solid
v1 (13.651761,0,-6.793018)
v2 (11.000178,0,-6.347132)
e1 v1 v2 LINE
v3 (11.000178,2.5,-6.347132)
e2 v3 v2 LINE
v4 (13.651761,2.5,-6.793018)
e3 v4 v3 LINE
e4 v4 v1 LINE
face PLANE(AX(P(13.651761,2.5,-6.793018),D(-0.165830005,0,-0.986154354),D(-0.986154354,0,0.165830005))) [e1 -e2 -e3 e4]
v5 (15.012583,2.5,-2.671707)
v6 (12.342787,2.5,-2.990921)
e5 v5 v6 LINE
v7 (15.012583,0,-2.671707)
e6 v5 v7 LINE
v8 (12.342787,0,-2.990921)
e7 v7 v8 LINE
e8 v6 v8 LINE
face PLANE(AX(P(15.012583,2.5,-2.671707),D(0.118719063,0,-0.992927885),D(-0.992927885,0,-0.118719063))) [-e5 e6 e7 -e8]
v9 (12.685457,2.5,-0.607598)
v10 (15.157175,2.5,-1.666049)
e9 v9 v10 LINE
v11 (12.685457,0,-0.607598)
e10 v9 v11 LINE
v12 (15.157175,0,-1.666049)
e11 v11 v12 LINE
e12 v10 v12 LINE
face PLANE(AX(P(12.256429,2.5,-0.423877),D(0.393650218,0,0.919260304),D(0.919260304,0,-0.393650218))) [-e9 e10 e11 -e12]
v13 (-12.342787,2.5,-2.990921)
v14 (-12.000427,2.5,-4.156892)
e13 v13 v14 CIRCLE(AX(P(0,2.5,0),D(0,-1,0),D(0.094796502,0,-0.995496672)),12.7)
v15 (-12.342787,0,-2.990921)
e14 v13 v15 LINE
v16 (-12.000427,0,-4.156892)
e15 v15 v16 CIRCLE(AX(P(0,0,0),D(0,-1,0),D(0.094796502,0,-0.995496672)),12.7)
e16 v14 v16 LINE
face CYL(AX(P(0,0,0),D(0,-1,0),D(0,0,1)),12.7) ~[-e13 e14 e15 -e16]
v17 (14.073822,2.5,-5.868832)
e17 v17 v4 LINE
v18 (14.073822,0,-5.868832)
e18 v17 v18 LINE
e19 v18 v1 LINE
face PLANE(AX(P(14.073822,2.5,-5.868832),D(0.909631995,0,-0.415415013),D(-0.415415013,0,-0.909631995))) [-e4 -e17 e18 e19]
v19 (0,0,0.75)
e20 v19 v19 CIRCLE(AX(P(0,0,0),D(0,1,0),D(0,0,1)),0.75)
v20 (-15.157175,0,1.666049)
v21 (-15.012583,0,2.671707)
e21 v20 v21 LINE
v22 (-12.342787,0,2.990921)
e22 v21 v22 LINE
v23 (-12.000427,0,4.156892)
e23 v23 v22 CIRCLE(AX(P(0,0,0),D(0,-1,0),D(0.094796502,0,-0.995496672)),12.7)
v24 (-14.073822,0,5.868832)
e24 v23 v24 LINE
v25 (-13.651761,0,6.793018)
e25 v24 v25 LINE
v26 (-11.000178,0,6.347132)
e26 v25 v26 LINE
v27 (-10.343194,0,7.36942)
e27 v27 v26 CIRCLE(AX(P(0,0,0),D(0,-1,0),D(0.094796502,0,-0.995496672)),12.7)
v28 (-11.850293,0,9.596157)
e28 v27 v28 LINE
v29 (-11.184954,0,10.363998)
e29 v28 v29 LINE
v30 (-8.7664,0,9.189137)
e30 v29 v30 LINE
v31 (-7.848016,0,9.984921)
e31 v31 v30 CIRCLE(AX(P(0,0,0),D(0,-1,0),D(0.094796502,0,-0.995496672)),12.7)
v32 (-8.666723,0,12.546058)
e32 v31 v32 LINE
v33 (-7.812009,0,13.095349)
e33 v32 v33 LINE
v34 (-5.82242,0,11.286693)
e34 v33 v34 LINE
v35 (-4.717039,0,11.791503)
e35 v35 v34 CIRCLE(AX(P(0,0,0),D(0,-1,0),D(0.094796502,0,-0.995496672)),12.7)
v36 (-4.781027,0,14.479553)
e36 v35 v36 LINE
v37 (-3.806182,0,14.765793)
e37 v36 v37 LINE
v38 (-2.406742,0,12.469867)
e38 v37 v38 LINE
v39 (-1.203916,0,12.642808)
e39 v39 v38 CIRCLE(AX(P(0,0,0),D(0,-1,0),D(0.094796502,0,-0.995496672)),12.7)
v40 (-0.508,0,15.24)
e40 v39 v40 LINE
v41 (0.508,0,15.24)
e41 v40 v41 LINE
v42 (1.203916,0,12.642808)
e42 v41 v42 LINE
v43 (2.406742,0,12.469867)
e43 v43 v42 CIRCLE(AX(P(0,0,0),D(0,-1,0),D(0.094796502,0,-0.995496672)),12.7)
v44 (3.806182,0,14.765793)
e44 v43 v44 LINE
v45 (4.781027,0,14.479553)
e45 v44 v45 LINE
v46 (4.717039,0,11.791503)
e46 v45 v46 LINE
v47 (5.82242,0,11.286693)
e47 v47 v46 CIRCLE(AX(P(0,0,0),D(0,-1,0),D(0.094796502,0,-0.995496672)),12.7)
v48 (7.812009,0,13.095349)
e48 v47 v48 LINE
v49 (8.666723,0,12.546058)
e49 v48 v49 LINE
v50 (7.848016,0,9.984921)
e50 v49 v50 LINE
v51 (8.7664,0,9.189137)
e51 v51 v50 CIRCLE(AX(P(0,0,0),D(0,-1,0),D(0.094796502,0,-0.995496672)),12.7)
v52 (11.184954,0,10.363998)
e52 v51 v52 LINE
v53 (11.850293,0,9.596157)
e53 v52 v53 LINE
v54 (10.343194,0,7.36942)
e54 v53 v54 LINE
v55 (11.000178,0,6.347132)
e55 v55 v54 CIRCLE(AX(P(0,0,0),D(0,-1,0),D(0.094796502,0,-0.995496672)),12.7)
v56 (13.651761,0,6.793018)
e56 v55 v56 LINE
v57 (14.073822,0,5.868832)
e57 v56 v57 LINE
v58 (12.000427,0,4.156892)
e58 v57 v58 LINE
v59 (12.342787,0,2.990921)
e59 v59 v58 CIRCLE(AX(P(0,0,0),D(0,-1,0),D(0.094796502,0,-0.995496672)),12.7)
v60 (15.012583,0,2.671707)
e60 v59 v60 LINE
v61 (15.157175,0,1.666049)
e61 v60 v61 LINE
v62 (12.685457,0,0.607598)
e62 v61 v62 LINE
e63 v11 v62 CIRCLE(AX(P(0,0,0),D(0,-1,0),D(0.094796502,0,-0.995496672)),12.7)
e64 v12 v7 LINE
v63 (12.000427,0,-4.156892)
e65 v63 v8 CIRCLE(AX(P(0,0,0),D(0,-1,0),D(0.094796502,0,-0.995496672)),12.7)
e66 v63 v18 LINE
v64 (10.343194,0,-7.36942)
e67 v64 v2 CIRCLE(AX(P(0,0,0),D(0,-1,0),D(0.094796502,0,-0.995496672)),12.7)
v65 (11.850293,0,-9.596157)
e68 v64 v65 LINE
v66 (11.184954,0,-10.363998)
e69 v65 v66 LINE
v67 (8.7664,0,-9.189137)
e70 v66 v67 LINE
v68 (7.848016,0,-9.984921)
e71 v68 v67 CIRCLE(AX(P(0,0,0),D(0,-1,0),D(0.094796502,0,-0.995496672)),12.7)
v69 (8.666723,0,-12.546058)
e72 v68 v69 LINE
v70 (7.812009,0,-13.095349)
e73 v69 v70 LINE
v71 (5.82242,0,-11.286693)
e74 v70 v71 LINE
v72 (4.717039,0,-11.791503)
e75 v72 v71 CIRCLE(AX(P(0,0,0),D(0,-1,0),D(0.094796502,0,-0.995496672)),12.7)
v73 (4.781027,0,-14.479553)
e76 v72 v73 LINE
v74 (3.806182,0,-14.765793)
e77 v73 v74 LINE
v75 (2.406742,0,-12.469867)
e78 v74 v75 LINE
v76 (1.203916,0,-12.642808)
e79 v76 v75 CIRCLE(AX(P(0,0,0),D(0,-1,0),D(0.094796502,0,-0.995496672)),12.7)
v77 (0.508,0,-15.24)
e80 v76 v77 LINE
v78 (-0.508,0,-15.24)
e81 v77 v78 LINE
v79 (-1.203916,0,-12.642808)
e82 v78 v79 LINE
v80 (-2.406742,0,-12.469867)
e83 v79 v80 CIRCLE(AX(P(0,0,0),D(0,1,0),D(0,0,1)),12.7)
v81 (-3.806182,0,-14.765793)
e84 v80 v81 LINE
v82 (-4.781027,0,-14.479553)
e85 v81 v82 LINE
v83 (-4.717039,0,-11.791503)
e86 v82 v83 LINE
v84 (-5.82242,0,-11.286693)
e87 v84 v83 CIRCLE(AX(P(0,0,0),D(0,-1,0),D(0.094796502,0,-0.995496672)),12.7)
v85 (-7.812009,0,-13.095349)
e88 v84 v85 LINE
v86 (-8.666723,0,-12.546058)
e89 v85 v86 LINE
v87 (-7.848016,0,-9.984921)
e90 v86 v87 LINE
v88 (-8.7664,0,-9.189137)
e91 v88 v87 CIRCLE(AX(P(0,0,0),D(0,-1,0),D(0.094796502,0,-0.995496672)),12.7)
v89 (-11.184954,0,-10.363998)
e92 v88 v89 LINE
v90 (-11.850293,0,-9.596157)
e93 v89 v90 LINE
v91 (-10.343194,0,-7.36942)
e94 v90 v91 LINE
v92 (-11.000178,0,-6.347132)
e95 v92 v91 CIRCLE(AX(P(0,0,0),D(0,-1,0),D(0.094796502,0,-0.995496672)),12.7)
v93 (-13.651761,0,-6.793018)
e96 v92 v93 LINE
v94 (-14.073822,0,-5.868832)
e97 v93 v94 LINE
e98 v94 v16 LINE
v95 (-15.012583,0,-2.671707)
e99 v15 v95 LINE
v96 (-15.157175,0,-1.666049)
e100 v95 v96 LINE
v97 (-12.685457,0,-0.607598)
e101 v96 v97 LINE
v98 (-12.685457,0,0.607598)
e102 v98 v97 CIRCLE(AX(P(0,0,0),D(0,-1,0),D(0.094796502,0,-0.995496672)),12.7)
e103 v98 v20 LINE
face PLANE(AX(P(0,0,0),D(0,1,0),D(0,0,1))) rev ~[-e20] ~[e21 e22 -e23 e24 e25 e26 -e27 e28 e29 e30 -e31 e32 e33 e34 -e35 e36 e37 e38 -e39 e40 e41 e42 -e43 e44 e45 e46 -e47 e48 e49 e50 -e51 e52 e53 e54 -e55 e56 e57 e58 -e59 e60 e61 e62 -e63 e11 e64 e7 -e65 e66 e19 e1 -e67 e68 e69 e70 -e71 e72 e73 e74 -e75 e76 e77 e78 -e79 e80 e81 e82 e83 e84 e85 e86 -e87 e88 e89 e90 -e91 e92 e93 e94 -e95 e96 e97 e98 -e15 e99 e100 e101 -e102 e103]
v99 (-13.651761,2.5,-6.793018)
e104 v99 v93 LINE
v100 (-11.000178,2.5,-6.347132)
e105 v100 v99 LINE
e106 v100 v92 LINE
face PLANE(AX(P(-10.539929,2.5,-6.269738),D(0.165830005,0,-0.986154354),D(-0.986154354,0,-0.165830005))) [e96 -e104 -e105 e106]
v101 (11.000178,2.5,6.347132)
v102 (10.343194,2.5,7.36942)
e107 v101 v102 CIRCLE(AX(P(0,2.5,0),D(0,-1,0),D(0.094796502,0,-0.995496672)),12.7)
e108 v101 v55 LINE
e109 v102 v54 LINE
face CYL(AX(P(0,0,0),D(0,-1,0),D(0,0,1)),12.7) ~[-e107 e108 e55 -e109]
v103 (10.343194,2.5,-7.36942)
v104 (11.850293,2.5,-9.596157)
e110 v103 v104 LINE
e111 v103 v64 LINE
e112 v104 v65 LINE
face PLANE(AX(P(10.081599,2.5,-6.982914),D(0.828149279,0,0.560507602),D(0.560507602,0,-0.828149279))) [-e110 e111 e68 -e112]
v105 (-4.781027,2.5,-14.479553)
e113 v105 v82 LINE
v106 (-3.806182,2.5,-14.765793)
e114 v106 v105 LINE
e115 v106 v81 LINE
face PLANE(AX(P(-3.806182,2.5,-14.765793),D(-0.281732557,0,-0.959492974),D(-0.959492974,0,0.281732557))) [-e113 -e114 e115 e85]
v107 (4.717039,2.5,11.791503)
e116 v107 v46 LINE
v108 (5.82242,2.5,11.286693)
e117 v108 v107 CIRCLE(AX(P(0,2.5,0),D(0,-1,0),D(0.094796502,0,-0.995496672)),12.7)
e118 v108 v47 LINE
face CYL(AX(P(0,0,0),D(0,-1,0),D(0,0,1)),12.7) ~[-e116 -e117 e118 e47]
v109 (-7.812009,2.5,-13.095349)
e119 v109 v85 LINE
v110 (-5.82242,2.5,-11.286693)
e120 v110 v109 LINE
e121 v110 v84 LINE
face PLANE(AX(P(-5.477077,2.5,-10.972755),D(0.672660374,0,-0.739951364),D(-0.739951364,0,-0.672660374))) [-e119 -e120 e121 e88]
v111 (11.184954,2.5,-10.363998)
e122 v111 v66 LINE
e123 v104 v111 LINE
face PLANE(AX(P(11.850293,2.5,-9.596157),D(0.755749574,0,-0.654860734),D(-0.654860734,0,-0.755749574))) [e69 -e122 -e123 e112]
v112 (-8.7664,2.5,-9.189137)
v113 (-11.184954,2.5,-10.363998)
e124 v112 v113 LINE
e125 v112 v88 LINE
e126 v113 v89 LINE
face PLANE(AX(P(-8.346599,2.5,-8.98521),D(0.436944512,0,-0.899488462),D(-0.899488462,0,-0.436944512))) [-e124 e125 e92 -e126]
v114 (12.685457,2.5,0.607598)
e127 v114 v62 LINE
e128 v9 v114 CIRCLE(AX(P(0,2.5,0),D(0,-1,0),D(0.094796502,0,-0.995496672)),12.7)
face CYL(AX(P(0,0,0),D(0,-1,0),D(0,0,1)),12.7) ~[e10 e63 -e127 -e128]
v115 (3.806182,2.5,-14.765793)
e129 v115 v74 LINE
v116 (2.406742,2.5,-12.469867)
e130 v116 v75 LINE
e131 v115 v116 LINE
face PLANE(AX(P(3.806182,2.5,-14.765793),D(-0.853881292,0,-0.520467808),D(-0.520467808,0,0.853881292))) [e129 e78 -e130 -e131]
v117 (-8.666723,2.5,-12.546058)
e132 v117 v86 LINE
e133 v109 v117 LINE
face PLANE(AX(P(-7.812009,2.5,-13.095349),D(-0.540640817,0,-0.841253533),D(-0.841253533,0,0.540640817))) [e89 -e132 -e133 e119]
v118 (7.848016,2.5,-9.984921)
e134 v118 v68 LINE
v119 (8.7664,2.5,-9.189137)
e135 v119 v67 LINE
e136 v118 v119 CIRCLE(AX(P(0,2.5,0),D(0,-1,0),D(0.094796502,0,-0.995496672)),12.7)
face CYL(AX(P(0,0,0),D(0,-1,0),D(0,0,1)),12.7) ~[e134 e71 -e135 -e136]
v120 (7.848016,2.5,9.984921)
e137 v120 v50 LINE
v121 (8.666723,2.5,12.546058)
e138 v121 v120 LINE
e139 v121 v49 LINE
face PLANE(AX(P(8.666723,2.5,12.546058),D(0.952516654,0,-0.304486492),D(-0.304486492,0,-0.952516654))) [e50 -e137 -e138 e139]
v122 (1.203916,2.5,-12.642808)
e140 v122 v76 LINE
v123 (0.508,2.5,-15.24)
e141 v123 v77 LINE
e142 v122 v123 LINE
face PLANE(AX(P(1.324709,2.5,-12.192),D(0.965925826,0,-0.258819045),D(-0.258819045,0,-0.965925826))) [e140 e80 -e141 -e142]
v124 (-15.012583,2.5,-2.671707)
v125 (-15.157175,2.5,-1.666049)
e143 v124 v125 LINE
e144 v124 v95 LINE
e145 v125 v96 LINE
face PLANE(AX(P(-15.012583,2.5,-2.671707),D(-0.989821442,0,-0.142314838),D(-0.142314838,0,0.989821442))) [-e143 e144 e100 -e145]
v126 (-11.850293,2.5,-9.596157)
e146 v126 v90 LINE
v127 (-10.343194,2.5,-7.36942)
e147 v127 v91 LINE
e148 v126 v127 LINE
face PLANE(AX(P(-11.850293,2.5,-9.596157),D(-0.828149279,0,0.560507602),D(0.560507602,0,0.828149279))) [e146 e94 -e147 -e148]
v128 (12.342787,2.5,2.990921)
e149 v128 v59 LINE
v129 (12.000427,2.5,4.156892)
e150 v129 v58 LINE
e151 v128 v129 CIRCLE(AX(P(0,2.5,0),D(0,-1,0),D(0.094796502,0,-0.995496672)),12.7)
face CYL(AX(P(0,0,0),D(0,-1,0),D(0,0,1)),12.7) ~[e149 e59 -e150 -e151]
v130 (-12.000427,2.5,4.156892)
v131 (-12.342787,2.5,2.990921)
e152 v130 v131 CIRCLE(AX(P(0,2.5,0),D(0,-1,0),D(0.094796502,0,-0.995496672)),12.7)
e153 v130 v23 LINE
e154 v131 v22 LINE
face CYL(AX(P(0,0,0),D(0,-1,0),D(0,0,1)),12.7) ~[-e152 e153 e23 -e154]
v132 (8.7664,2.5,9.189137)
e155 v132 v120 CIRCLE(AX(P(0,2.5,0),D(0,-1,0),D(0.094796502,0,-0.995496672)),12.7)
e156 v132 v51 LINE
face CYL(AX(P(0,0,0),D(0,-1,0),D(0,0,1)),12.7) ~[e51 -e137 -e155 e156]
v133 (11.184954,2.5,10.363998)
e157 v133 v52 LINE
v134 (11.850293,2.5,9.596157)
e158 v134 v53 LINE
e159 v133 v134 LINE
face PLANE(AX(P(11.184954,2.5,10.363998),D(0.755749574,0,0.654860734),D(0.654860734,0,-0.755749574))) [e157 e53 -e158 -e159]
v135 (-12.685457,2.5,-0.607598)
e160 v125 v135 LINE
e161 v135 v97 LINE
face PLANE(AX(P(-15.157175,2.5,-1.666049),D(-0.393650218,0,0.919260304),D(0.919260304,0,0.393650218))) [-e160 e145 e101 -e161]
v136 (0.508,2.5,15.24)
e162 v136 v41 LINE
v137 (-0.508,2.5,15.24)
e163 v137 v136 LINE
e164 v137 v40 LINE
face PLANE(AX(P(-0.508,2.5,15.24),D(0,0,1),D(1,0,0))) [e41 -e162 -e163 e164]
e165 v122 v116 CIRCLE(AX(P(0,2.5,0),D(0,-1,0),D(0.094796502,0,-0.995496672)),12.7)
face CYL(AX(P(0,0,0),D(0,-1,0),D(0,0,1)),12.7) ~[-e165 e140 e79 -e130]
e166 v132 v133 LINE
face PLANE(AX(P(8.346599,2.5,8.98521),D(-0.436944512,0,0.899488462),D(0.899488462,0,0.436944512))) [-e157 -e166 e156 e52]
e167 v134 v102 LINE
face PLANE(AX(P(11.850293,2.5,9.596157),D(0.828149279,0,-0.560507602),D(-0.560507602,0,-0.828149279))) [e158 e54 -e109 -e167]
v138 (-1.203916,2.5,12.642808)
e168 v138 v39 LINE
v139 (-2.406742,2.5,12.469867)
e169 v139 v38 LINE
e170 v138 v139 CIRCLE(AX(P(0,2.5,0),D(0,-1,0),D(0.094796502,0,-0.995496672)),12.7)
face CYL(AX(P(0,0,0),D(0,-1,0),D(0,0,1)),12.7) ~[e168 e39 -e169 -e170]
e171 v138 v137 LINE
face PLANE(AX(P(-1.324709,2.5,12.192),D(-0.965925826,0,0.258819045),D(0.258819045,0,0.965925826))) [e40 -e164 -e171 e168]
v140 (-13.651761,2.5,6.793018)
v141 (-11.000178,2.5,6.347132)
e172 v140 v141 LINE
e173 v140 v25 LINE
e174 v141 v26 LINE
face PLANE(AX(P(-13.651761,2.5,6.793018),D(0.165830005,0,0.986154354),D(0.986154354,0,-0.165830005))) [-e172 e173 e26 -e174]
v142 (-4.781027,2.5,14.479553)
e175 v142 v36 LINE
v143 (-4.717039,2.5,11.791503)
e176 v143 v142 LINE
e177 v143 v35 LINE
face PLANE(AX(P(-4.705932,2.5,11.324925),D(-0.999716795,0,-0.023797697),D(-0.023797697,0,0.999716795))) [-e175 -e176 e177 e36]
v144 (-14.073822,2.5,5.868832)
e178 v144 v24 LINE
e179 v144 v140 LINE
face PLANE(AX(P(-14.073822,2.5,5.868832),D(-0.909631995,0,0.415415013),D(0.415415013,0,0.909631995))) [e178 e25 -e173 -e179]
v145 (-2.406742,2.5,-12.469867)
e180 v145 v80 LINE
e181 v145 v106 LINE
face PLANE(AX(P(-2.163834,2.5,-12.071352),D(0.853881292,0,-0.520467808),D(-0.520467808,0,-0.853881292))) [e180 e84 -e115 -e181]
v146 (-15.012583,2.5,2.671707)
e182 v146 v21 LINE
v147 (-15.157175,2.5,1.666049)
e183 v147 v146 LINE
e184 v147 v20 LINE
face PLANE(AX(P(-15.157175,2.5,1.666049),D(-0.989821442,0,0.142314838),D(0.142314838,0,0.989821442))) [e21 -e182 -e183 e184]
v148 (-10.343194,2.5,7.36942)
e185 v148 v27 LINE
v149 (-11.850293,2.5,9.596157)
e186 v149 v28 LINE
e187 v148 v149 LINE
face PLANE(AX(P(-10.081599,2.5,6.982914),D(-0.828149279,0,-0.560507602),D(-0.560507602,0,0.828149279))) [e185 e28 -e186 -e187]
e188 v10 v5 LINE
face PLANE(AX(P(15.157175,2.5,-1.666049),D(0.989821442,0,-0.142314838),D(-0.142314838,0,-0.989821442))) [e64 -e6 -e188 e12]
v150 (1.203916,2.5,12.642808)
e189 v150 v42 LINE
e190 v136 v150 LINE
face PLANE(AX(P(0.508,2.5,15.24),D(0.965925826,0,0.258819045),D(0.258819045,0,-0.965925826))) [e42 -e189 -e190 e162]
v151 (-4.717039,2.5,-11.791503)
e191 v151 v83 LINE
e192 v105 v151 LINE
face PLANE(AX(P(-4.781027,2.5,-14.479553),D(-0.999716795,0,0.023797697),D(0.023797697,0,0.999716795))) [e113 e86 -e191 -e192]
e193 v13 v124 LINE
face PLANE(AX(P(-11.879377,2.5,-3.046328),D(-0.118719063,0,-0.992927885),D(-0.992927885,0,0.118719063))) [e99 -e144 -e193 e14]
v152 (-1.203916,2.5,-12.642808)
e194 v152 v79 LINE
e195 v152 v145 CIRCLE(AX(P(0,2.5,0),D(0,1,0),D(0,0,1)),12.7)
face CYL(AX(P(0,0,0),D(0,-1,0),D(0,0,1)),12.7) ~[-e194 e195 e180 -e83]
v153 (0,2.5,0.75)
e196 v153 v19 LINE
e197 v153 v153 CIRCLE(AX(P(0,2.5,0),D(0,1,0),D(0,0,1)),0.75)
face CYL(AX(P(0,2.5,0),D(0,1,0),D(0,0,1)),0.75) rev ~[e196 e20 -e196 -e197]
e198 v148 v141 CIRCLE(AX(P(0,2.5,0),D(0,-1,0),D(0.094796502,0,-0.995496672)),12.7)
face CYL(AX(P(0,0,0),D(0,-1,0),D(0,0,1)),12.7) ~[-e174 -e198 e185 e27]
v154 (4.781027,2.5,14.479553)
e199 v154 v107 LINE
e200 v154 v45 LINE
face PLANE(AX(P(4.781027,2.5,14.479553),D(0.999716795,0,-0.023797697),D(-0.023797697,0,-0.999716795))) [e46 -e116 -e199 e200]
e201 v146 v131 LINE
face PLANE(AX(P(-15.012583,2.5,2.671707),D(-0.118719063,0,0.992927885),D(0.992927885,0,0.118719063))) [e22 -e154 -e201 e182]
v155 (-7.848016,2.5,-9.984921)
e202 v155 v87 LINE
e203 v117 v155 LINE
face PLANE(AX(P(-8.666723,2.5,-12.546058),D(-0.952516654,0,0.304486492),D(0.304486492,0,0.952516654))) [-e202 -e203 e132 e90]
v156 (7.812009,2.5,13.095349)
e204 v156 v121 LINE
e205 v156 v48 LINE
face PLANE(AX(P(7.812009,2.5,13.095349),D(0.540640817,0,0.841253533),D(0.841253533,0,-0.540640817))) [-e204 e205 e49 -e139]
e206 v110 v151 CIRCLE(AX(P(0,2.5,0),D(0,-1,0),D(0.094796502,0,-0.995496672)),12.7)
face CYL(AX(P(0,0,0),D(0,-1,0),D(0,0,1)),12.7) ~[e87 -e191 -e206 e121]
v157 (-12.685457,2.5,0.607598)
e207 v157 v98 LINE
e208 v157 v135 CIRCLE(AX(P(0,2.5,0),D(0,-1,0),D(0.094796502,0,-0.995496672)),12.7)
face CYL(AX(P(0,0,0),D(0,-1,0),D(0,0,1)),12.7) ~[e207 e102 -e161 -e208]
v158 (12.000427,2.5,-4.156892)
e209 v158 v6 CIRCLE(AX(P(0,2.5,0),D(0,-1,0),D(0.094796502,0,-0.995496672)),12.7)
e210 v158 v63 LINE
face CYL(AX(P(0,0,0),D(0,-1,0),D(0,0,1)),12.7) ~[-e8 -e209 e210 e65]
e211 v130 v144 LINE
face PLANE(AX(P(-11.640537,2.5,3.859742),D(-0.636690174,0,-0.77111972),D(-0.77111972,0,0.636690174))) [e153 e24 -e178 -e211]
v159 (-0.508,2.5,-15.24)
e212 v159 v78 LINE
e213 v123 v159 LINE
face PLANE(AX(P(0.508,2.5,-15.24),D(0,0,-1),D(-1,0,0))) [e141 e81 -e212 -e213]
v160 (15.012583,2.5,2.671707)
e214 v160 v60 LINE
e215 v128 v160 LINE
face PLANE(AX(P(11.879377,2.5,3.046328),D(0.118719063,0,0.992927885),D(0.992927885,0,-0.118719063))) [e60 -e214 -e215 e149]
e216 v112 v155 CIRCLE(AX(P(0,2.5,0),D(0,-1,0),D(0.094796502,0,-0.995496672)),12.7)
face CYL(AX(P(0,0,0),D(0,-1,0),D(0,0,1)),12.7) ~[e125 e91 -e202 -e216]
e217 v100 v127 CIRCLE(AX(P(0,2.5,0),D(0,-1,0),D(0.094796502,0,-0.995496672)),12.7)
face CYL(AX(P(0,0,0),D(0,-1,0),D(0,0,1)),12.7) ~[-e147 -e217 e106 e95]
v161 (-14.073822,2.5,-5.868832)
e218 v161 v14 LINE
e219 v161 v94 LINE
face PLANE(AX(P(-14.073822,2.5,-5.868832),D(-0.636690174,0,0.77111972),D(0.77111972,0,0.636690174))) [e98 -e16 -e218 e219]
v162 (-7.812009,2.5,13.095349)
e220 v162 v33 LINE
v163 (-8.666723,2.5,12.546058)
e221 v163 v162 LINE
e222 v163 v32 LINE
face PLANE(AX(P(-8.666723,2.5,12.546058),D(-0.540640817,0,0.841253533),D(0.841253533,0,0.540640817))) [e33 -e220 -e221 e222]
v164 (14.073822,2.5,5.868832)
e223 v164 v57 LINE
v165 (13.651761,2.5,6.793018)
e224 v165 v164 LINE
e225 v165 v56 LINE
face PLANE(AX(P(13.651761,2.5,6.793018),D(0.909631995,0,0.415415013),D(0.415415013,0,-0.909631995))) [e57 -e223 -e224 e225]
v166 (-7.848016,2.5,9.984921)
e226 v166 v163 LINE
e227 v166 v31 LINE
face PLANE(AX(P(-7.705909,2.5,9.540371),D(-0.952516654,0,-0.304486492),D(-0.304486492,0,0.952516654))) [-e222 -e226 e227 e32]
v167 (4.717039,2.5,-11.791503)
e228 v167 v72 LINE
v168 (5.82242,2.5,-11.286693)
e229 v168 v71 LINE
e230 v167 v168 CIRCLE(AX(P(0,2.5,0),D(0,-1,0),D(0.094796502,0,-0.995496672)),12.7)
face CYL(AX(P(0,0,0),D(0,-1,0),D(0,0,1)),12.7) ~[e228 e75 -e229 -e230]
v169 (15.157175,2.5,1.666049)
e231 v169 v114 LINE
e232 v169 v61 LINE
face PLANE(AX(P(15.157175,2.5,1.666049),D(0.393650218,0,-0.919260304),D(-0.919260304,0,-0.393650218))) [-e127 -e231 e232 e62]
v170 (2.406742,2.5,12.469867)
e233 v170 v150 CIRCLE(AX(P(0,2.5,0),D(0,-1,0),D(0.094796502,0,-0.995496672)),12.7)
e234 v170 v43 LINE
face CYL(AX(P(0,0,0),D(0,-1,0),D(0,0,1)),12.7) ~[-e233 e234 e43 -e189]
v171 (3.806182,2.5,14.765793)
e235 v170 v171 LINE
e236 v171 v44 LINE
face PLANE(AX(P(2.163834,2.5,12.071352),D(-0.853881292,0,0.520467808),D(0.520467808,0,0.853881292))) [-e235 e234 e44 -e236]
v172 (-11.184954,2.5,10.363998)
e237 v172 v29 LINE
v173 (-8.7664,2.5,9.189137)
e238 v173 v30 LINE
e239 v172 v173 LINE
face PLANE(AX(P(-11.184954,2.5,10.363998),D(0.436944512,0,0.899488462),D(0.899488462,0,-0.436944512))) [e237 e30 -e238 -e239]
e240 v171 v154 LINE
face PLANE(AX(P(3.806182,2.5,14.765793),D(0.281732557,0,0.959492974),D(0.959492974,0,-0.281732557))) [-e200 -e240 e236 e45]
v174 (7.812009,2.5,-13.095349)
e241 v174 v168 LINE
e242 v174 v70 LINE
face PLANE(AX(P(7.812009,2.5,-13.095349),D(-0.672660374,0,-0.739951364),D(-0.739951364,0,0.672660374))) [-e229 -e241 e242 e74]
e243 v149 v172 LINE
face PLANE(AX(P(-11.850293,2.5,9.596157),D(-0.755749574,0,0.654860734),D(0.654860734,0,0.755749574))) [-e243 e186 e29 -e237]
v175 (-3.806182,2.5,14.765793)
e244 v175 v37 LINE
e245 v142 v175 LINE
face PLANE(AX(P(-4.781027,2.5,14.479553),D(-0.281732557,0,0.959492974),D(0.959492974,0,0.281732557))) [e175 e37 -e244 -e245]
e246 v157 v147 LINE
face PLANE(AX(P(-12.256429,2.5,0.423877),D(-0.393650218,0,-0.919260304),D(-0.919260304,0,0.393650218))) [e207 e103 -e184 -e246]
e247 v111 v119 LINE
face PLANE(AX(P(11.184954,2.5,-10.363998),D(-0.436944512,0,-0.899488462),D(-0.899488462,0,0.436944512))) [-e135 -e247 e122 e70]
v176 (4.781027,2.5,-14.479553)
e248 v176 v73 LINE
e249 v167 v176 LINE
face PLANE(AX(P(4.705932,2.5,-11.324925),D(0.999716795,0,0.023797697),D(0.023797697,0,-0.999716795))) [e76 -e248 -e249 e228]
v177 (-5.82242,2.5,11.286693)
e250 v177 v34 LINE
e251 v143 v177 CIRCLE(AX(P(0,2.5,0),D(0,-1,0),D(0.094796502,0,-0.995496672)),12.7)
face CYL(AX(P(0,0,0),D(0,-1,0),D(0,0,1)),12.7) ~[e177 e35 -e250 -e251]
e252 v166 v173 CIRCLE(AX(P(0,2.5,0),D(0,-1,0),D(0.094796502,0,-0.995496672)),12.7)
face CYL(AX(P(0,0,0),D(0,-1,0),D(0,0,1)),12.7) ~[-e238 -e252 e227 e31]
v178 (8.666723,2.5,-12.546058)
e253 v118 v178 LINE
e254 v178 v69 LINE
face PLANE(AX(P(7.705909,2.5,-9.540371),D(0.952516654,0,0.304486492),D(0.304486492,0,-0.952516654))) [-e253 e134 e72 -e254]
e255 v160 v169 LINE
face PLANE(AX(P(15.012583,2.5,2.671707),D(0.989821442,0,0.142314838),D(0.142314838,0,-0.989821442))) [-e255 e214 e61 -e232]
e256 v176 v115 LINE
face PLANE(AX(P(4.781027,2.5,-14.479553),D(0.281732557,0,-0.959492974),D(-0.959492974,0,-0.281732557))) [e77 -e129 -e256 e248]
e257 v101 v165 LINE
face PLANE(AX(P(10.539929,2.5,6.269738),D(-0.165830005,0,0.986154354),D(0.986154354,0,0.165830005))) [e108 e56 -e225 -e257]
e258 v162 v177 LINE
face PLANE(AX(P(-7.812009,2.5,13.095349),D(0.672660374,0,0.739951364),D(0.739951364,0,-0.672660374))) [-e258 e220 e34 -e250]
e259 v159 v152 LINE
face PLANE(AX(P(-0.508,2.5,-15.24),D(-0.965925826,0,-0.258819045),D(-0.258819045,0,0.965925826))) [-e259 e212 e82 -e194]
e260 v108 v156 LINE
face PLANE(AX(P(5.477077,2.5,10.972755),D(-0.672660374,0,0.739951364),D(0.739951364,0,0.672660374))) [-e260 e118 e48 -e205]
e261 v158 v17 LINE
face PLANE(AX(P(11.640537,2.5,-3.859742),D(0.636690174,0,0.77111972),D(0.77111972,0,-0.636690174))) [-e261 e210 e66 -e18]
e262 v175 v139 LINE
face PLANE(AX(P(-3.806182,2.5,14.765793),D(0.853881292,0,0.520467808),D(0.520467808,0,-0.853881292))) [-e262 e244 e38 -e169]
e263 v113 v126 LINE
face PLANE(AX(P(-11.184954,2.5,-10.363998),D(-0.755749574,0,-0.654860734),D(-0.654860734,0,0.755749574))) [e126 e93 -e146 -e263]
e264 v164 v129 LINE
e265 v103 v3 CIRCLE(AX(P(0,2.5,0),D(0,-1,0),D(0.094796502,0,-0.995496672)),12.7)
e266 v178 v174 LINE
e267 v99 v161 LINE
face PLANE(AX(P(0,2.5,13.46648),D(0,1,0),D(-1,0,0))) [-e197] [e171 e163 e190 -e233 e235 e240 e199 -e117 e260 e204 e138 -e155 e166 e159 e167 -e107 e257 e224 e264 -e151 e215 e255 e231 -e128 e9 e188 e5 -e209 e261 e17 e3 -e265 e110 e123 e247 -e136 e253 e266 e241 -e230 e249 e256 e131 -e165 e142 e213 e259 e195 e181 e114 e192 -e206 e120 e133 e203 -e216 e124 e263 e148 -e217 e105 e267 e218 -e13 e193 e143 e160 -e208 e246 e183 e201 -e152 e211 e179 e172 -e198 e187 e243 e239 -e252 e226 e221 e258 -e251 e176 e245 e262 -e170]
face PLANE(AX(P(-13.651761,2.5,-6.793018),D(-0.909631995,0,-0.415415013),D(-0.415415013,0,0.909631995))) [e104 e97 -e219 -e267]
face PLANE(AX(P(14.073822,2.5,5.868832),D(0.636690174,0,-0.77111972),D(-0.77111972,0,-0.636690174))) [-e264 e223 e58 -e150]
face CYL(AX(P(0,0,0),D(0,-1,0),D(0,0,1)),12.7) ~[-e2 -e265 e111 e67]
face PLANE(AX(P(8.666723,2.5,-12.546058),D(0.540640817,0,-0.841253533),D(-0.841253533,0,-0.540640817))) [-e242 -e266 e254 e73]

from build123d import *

# Parameters (mm, degrees)
SKETCH1_R           = 12.7
BOSS_EXTRUDE1_DEPTH = 2.5
BOSS_EXTRUDE2_DEPTH = 2.5
CIRPATTERN1_COUNT   = 22
SKETCH3_R           = 0.75
CUT_EXTRUDE1_DEPTH  = 5


with BuildPart() as part:
    # Sketch1 → Boss-Extrude1 (new body)
    with BuildSketch(Plane(origin=(0, 0, 0), x_dir=(1, 0, 0), z_dir=(0, 1, 0))):
        with Locations(Location((0, 0, 0), (0, 0, 270))):
            Circle(SKETCH1_R)
    extrude(amount=BOSS_EXTRUDE1_DEPTH)

    # Sketch2 → Boss-Extrude2 (add)
    with BuildSketch(Plane(origin=(0, 2.5, 0), x_dir=(1, 0, 0), z_dir=(0, 1, 0))):
        Polygon((-1.324709139, 12.192), (1.324709139, 12.192), (0.508, 15.24), (-0.508, 15.24), align=None)
    boss_extrude2 = extrude(amount=-BOSS_EXTRUDE2_DEPTH)

    # CirPattern1: Boss-Extrude2 ×22 about axis
    cirpattern1_axis = Axis((0, 0, 0), (0, 1, 0))
    for i in range(1, CIRPATTERN1_COUNT):
        add(boss_extrude2.rotate(cirpattern1_axis, i * 360 / CIRPATTERN1_COUNT))

    # Sketch3 → Cut-Extrude1 (cut)
    with BuildSketch(Plane(origin=(0, 2.5, 0), x_dir=(1, 0, 0), z_dir=(0, 1, 0))):
        with Locations(Location((0, 0, 0), (0, 0, 270))):
            Circle(SKETCH3_R)
    extrude(amount=-CUT_EXTRUDE1_DEPTH, mode=Mode.SUBTRACT)


solid = part.part
